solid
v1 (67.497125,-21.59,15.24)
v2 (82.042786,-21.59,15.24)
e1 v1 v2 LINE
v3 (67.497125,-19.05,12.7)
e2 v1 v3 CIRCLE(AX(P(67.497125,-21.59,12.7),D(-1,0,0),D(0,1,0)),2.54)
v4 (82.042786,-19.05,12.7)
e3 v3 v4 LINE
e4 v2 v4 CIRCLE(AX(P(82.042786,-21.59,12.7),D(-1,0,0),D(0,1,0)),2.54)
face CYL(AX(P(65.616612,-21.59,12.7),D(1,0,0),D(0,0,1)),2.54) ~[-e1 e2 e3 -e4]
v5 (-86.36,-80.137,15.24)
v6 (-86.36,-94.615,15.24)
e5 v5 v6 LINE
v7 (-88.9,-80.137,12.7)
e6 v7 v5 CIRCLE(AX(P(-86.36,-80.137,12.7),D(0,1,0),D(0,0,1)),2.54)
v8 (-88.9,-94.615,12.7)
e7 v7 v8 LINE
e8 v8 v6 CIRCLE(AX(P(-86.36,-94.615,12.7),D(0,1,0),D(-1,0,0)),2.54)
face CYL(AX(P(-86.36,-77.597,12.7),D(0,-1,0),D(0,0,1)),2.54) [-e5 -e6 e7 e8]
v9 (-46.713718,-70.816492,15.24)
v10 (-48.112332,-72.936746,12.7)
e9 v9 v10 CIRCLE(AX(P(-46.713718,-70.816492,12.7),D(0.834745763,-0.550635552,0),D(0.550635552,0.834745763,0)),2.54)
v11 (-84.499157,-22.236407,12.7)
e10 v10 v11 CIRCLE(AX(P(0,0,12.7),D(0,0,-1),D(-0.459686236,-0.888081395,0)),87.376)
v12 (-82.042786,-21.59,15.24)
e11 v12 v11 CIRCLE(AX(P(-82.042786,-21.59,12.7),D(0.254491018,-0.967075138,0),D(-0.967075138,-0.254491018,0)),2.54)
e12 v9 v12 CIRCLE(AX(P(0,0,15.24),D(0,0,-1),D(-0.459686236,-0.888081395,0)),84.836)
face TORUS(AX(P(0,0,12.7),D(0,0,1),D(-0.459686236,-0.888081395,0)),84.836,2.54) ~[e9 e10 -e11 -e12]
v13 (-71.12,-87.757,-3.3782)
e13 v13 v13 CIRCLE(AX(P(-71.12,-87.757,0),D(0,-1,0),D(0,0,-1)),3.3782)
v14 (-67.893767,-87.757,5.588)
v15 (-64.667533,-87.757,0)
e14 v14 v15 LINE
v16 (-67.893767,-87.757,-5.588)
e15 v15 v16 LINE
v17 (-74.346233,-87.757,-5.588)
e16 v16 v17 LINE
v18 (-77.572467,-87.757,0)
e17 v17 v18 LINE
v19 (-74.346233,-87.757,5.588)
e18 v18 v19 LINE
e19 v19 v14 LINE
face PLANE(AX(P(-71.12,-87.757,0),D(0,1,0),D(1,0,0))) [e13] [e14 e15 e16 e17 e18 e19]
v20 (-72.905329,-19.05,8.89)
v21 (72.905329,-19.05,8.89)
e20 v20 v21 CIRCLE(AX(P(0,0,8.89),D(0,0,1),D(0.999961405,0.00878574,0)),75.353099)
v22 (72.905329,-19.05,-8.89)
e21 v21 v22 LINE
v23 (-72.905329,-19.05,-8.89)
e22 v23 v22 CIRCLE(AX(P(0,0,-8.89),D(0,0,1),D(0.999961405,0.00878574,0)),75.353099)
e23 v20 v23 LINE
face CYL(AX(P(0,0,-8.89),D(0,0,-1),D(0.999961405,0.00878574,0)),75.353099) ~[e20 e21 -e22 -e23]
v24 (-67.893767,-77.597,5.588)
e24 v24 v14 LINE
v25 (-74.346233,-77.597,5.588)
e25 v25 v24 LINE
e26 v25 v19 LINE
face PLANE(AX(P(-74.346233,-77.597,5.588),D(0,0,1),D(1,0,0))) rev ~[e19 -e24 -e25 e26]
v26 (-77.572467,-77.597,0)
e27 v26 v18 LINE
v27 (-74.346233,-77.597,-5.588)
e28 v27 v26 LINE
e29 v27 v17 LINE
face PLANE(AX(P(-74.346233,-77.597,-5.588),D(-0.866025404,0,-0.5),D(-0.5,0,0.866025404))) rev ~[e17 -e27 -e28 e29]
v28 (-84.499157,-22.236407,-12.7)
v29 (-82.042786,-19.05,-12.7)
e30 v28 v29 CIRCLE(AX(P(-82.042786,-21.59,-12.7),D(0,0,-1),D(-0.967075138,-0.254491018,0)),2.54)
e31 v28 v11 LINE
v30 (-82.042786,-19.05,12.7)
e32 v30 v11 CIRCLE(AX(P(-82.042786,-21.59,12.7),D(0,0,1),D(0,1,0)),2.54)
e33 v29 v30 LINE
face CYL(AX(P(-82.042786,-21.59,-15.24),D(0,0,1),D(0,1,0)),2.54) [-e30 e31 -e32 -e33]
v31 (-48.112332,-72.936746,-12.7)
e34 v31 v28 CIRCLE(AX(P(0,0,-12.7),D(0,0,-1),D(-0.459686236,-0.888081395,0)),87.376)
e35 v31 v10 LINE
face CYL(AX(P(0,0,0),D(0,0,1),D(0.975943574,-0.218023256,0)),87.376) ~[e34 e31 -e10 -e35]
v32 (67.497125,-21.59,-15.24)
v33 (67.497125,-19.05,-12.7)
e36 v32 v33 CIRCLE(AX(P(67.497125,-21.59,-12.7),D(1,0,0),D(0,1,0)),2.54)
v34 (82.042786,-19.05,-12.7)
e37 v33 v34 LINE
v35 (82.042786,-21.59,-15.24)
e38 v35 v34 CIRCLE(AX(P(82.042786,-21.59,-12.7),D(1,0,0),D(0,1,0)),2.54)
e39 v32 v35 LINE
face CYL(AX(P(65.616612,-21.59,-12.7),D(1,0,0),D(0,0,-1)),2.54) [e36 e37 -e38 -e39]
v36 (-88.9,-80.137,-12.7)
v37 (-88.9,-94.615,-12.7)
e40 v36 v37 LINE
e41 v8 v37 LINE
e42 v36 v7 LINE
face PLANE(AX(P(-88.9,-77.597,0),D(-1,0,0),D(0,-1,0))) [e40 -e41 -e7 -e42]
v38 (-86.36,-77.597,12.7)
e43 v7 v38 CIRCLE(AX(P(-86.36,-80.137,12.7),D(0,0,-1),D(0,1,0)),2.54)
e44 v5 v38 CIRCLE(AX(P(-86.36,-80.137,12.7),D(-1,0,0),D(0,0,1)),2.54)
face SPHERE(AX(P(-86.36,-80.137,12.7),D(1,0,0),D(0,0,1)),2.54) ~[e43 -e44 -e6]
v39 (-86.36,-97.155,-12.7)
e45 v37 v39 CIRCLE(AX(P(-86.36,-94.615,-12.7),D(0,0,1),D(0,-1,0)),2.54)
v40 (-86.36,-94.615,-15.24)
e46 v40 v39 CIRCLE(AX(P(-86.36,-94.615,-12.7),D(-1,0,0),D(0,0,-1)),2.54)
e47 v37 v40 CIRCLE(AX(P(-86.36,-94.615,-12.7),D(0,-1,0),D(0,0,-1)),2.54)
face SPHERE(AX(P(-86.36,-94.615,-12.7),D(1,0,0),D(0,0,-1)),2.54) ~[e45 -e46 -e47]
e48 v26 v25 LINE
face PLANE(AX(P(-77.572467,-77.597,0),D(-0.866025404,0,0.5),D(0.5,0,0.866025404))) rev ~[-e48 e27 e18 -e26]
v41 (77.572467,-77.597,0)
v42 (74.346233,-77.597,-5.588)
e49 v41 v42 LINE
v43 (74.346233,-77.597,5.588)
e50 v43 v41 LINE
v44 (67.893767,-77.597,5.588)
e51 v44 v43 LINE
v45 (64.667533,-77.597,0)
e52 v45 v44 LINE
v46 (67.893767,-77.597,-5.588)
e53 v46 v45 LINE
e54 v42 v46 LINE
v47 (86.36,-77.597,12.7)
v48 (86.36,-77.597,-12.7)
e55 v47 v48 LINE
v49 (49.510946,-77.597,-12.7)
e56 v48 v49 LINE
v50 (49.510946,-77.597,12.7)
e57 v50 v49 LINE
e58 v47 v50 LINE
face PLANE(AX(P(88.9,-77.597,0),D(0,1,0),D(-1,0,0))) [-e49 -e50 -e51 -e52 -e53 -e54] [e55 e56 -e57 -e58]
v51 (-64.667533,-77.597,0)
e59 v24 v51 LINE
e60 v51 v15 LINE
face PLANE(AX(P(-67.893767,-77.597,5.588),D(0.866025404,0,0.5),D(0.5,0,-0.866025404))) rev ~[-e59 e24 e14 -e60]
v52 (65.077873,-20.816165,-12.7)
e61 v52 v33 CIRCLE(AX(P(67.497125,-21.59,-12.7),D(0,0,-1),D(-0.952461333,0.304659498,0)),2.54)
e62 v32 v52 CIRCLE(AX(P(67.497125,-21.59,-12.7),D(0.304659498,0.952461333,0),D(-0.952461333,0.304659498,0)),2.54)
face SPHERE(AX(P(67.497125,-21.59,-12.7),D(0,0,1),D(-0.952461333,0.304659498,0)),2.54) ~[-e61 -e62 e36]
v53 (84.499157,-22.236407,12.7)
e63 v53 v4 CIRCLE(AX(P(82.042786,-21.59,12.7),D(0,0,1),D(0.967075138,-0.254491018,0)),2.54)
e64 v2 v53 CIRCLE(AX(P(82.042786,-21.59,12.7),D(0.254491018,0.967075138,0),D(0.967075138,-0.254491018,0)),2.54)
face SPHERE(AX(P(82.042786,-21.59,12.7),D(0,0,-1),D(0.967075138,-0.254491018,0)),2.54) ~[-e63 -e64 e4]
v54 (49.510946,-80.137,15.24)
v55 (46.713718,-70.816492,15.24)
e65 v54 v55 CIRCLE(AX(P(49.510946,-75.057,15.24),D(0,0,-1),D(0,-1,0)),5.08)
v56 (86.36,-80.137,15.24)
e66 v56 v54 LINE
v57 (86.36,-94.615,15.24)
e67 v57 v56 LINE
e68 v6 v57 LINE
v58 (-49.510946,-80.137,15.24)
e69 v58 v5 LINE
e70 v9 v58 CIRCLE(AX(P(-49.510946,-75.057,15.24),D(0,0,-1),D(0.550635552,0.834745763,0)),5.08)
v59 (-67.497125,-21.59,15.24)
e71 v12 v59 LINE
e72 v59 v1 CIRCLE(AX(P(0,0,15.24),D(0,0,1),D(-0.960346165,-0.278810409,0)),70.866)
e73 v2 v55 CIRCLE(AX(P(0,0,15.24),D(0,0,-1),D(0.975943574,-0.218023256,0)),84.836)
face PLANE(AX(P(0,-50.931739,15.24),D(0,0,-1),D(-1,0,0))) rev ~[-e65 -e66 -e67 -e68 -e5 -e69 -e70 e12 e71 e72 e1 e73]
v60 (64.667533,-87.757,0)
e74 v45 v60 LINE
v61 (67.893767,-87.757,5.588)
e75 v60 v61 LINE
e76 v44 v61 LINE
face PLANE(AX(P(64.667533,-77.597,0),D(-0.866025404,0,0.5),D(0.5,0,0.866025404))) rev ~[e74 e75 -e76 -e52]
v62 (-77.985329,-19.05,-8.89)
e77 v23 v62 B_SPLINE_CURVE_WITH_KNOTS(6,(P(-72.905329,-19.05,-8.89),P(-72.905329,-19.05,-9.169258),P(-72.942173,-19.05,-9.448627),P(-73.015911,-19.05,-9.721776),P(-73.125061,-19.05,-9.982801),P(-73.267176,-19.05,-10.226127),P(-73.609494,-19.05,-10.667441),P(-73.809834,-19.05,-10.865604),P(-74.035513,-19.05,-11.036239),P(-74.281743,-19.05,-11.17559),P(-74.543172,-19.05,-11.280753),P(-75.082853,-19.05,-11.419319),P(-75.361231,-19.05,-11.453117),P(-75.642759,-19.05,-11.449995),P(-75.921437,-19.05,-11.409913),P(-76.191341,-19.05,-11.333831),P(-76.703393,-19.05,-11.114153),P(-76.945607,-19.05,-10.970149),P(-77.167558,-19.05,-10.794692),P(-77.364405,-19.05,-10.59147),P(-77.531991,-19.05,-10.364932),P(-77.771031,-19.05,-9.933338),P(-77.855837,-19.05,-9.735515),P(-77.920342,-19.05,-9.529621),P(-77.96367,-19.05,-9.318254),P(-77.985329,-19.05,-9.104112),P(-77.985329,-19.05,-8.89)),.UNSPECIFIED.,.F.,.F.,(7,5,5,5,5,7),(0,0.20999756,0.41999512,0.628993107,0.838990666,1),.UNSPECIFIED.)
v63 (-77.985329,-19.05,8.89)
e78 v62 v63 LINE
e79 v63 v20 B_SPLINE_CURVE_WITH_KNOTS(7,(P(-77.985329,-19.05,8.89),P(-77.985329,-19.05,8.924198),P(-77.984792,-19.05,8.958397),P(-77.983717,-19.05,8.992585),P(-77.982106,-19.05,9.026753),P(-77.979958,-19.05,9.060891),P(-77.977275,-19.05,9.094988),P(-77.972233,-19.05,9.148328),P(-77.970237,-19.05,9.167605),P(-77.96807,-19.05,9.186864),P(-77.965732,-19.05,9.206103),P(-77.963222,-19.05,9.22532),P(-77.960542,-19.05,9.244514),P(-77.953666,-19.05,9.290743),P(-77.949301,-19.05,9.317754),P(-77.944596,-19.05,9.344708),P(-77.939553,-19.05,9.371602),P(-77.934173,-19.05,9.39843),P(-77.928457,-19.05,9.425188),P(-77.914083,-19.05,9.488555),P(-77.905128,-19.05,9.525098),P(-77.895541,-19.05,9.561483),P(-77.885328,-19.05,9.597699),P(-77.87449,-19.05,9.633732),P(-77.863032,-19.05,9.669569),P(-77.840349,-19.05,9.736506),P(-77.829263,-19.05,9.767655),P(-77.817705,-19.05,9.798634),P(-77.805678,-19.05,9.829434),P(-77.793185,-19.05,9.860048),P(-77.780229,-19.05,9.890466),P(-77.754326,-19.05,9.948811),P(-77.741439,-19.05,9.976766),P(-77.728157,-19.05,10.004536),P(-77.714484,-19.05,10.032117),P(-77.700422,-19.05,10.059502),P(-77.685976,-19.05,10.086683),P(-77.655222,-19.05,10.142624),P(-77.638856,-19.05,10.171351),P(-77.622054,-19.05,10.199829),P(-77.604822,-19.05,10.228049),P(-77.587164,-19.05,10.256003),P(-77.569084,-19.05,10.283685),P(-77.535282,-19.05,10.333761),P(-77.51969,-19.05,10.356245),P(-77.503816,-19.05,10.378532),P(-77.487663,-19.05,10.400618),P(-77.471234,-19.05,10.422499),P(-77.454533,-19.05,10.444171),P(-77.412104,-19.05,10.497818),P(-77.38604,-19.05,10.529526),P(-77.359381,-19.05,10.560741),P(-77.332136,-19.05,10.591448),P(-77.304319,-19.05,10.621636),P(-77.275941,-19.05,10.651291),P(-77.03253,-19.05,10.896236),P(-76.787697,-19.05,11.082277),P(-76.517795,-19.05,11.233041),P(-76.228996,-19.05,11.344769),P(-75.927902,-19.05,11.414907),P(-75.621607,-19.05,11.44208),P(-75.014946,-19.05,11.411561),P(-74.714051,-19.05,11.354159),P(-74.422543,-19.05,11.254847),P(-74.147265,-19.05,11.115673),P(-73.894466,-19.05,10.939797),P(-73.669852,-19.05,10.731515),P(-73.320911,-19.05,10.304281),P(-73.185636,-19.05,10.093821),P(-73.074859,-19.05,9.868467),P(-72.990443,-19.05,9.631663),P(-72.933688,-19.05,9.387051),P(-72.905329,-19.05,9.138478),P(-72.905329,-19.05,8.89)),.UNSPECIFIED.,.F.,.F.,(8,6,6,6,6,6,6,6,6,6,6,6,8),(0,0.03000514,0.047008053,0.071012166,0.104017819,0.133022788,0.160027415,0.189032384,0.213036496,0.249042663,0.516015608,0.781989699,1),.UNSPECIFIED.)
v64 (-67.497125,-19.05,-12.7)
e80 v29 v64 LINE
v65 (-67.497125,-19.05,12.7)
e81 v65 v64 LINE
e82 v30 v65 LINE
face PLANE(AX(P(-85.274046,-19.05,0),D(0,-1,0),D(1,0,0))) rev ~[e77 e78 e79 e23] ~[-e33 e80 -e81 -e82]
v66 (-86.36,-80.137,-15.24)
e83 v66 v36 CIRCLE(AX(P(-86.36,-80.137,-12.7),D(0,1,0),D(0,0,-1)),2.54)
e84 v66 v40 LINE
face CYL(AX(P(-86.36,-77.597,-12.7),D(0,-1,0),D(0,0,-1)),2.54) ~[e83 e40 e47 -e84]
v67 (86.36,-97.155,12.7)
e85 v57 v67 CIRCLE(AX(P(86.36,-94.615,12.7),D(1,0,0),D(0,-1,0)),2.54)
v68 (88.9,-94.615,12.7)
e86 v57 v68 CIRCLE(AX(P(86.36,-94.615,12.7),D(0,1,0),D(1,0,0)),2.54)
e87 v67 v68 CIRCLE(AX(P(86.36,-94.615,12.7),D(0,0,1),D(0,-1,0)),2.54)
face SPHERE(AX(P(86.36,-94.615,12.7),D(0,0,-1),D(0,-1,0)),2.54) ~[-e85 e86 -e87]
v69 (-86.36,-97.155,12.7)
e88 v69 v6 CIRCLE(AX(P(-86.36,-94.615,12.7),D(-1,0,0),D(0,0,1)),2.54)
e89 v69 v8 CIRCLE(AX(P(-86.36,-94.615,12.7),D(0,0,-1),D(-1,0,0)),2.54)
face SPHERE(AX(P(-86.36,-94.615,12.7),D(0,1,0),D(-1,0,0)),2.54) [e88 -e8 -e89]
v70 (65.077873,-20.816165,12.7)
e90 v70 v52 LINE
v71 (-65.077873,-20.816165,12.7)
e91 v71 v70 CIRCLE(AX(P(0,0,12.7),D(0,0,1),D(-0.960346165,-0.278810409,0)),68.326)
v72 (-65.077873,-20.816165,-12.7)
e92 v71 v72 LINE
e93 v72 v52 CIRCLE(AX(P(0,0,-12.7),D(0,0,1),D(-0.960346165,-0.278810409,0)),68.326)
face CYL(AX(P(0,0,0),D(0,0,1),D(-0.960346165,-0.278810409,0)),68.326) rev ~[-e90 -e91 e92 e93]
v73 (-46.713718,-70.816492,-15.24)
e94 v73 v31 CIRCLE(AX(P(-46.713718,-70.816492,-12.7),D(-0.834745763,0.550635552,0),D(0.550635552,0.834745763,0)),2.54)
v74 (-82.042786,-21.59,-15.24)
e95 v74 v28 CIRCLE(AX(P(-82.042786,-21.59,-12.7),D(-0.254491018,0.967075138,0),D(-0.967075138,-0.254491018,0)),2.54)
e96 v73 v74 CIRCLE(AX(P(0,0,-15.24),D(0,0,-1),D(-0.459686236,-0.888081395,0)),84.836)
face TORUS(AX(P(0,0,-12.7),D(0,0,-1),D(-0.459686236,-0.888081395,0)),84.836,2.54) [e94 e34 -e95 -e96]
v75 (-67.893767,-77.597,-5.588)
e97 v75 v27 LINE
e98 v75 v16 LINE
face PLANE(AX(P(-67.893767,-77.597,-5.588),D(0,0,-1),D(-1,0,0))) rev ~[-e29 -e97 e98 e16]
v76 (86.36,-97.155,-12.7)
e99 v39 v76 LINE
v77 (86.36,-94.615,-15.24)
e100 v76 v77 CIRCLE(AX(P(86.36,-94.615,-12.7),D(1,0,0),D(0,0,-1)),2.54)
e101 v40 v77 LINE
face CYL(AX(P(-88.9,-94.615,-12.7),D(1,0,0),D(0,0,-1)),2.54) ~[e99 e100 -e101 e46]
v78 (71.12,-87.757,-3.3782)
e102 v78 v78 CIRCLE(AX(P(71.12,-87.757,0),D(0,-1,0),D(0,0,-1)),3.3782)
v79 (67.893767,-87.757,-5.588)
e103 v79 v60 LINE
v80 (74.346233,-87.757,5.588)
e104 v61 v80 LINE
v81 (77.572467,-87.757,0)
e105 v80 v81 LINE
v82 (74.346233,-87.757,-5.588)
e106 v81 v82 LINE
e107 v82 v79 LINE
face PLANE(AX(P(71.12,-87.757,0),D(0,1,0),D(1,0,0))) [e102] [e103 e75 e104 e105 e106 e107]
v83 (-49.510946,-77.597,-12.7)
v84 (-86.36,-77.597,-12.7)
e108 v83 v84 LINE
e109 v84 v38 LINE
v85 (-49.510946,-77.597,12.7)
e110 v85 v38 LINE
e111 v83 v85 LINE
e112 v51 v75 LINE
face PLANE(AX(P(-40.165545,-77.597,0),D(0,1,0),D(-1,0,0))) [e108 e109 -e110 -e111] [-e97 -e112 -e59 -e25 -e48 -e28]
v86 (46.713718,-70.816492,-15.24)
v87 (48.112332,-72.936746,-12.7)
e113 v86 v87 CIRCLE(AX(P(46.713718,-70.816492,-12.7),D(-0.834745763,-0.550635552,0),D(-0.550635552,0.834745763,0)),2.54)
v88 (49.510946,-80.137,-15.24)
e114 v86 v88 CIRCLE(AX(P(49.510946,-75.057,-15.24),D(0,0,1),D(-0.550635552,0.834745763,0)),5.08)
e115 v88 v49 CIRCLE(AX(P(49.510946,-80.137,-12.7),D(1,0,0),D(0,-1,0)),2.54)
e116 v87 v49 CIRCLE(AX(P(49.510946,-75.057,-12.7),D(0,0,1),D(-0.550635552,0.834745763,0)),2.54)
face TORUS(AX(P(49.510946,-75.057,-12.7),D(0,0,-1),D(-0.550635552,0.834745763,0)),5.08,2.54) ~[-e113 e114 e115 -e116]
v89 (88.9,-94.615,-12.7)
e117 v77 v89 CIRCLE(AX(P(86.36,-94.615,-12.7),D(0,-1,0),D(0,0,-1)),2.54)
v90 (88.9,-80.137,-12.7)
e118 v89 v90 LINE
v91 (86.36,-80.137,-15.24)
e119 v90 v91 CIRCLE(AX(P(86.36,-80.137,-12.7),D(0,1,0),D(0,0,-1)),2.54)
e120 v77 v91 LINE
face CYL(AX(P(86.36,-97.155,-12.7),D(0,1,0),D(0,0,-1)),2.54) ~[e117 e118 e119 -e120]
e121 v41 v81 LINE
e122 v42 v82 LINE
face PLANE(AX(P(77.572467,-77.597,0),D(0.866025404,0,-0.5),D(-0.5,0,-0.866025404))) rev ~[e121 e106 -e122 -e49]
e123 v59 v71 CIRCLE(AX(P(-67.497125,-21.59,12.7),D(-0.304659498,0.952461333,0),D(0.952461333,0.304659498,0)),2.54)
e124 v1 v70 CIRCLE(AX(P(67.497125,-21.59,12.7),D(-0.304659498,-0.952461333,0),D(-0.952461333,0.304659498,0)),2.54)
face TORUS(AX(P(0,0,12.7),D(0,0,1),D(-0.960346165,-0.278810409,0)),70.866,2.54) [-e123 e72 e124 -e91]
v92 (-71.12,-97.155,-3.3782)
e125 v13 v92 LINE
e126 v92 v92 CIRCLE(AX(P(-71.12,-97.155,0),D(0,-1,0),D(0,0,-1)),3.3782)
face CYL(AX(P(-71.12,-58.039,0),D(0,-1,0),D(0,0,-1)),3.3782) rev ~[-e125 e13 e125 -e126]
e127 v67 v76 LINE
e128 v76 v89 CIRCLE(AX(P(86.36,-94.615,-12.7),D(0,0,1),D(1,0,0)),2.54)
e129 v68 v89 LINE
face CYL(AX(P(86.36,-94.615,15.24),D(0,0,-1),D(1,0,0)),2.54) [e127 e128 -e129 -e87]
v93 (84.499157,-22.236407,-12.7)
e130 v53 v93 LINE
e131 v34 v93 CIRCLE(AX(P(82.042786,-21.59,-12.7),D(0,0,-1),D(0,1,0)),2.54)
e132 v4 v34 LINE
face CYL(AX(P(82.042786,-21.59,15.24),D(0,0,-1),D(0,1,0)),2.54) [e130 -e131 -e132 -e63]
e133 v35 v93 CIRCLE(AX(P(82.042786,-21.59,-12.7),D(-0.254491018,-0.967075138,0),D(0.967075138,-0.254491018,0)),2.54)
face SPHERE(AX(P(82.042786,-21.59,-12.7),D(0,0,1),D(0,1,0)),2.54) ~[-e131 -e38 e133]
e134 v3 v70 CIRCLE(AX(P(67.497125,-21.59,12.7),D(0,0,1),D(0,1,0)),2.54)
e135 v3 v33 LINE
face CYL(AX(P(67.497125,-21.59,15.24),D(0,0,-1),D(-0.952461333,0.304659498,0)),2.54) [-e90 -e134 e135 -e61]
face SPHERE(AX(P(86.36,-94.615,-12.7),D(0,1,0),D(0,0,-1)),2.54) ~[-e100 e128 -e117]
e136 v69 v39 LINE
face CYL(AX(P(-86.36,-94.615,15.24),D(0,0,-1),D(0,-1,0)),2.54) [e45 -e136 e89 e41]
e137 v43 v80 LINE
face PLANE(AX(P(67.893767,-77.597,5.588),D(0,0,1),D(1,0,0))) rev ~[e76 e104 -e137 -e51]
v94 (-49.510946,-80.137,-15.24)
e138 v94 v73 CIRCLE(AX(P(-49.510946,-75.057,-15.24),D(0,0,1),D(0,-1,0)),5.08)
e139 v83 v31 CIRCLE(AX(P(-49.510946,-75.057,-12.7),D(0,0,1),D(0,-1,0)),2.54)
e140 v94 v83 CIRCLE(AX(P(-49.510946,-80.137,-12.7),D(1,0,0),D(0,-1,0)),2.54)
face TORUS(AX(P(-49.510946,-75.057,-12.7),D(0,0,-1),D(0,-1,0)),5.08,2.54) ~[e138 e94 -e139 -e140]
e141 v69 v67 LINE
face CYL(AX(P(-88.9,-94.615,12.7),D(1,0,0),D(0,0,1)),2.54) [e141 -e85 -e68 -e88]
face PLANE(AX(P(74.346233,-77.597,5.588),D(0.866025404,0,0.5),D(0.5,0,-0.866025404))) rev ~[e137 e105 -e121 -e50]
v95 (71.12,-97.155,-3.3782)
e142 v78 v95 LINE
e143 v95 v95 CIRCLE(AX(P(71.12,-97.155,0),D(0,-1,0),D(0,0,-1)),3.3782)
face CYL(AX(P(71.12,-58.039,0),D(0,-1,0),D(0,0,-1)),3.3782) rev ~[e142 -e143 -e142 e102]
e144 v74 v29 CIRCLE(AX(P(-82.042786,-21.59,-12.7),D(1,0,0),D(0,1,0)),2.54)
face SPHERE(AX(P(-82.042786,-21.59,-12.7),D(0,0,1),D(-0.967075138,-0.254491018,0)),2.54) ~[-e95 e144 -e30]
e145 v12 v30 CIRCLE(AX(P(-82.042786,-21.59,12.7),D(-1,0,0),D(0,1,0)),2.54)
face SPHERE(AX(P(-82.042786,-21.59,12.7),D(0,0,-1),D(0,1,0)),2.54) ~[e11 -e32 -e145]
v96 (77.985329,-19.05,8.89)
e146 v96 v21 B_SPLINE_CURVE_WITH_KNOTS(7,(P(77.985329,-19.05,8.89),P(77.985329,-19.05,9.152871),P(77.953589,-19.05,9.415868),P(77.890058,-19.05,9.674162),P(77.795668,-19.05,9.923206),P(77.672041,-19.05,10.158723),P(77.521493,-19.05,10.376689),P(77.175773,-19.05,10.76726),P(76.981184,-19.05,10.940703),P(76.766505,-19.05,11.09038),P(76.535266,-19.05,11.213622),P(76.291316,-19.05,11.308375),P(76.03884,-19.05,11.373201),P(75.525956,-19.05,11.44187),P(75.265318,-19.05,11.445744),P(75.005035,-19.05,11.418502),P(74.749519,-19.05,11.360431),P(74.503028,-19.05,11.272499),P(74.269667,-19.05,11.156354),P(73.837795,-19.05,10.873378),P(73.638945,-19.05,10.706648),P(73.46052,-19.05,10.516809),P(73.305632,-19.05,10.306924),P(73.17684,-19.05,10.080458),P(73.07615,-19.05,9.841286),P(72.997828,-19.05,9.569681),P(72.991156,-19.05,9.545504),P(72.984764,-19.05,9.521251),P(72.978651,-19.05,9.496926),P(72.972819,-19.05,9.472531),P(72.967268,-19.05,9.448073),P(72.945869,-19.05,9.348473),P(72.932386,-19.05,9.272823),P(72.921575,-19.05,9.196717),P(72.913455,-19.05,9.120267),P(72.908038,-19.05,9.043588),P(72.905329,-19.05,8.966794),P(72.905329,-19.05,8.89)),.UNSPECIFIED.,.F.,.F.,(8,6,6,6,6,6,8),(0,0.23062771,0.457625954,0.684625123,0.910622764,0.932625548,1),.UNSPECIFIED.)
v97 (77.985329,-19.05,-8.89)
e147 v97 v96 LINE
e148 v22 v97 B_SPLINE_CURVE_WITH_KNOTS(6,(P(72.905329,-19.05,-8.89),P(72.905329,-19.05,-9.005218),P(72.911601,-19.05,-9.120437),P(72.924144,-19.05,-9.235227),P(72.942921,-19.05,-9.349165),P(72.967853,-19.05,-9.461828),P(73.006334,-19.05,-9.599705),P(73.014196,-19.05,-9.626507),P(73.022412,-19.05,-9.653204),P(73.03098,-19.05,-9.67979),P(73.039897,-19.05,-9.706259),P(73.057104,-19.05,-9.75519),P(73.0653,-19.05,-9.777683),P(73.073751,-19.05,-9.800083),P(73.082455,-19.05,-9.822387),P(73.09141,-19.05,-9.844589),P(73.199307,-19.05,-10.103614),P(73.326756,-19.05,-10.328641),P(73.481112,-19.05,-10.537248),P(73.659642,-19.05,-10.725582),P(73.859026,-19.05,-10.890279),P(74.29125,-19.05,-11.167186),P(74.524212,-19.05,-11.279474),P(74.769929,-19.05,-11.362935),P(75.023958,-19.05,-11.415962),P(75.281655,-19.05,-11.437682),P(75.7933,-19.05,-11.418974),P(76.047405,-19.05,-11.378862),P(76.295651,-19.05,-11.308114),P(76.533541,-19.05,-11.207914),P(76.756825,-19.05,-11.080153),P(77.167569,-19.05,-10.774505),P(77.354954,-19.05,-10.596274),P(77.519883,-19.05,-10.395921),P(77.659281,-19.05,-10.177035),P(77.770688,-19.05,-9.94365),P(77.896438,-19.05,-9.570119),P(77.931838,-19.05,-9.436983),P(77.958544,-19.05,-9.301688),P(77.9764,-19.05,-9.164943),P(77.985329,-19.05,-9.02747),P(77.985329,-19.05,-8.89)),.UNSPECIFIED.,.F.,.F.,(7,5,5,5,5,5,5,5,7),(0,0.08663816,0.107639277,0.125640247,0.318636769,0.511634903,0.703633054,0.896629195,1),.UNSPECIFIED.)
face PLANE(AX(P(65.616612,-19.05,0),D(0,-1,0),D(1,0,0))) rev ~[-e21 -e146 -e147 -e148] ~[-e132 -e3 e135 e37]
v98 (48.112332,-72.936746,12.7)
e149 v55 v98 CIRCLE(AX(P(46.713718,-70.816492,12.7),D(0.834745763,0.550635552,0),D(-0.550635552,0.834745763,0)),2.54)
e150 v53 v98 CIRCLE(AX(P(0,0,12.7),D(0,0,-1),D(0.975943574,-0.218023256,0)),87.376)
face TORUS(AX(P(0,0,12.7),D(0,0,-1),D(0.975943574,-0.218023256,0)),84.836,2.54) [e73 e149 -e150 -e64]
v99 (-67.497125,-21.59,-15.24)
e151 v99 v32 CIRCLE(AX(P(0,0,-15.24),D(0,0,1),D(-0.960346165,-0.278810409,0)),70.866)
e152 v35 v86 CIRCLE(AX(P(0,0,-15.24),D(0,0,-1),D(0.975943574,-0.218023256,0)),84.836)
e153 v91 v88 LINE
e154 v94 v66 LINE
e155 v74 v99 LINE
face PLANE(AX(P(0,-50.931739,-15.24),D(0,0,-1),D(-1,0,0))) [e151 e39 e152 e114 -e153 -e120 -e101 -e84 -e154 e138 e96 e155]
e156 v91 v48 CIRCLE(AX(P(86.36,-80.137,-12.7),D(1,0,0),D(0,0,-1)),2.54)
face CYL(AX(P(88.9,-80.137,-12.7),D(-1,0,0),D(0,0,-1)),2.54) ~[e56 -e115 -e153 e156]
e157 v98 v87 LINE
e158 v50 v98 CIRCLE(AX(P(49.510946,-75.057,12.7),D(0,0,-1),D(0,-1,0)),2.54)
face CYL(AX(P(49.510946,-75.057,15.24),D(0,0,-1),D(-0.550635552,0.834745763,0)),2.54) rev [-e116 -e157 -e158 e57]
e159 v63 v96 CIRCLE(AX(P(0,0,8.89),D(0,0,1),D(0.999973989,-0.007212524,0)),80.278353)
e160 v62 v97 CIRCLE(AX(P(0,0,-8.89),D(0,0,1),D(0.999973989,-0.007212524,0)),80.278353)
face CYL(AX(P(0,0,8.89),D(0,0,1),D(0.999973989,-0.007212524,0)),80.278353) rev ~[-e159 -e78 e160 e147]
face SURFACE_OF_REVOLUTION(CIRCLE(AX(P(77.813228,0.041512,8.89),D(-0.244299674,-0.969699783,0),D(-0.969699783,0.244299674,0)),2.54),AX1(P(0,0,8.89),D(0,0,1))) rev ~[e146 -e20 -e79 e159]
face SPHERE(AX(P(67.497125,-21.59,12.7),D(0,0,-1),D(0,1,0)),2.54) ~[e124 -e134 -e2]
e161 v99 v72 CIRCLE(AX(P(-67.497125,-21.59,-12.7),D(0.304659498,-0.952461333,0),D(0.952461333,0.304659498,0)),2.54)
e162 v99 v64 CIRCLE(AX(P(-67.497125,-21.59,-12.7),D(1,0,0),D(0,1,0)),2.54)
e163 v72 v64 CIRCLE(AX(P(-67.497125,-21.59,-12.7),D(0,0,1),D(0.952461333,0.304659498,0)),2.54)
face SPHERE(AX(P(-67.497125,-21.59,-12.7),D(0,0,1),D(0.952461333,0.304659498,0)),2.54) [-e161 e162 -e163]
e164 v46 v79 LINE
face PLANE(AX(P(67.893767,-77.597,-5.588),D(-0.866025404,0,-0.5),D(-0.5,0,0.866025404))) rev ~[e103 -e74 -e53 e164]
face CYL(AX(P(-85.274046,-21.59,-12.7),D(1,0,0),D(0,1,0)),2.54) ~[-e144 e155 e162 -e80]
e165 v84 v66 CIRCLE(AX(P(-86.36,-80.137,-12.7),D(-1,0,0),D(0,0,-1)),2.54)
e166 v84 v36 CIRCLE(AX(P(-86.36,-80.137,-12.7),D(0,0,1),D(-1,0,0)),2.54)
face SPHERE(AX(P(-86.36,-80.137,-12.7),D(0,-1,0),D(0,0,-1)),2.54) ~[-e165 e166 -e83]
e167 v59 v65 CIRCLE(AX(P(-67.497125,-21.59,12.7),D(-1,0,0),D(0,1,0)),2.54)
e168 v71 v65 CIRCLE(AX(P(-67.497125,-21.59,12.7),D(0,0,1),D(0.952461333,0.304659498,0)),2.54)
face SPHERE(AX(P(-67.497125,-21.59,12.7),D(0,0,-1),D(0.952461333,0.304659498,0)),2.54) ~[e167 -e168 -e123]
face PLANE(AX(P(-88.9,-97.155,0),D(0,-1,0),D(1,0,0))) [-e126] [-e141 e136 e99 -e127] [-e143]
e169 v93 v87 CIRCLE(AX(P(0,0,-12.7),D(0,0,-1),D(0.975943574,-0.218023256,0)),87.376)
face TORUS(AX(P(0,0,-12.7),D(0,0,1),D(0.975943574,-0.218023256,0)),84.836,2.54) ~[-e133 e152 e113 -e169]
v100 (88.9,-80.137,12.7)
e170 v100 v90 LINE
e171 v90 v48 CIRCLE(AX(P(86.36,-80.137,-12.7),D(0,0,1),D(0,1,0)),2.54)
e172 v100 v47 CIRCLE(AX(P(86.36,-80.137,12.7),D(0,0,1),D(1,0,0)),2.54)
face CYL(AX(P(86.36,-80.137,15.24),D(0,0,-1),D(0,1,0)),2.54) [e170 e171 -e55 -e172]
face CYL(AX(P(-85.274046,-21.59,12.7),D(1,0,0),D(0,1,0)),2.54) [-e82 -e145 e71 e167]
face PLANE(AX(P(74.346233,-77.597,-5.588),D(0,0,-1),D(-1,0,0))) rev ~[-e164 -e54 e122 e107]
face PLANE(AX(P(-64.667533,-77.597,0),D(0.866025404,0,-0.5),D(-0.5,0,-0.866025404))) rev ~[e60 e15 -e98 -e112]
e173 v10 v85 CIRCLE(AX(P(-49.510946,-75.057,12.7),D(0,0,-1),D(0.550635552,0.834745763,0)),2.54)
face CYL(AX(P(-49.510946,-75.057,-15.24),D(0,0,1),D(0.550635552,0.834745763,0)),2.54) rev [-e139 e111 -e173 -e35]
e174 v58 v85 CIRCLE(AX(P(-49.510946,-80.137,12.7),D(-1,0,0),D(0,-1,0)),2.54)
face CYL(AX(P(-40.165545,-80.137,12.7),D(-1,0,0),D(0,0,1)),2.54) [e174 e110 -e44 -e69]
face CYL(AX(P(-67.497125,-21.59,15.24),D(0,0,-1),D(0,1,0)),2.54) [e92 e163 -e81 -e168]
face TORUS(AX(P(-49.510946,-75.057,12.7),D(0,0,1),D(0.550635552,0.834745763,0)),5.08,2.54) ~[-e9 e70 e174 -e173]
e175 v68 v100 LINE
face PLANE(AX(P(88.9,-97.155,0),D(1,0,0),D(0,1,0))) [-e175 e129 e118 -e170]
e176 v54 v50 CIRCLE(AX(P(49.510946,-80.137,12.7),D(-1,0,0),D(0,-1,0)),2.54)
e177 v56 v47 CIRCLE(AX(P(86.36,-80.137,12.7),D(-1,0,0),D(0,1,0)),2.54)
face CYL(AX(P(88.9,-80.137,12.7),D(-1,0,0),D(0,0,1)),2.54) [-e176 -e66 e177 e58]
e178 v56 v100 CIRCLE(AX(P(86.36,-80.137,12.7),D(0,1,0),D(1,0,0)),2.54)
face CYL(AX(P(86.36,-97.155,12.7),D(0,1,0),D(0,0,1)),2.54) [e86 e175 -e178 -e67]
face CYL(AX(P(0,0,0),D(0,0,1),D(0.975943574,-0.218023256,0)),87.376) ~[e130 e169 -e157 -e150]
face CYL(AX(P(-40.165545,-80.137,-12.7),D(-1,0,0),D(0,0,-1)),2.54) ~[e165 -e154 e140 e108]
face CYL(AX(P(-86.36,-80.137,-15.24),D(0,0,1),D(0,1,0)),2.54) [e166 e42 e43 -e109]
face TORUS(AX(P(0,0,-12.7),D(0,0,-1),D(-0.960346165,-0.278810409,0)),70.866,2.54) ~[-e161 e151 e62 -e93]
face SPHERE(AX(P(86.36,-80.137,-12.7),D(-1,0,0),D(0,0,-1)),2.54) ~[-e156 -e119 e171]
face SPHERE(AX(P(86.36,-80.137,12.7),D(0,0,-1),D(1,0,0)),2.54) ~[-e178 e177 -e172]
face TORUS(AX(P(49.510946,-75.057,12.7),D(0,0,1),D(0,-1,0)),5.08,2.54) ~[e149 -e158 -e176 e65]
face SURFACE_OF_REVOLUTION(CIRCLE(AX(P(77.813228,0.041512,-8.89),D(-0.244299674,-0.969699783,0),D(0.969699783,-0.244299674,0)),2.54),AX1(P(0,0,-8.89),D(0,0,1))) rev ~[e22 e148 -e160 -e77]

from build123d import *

# Parameters (mm, degrees)
BOSS_EXTRUDE1_DEPTH          = 15.24
FILLET1_R                    = 2.54
CUT_EXTRUDE1_DEPTH           = 10.16
H_0_266_DIAMETER_HOLE1_D     = 6.7564
H_0_266_DIAMETER_HOLE1_DEPTH = 19.558


with BuildPart() as part:
    # Sketch1 → Boss-Extrude1 (new body, symmetric)
    with BuildSketch(Plane.XY):
        with BuildLine():
            Line((-85.274045735, -19.05), (-65.616612043, -19.05))
            ThreePointArc((-65.616612043, -19.05), (0, -68.326), (65.616612043, -19.05))
            Line((65.616612043, -19.05), (85.274045735, -19.05))
            ThreePointArc((85.274045735, -19.05), (0, -87.376), (-85.274045735, -19.05))
        make_face()
        with BuildLine():
            ThreePointArc((40.165544525, -77.597), (0, -87.376), (-40.165544525, -77.597))
            Line((-40.165544525, -77.597), (-88.9, -77.597))
            Line((-88.9, -77.597), (-88.9, -97.155))
            Line((-88.9, -97.155), (88.9, -97.155))
            Line((88.9, -97.155), (88.9, -77.597))
            Line((88.9, -77.597), (40.165544525, -77.597))
        make_face()
    extrude(amount=BOSS_EXTRUDE1_DEPTH, both=True)

    # Cut-Sweep1: sweep along a path in Sketch4
    with BuildLine(Plane.XY) as cut_sweep1_path:
        CenterArc((0, 0), 77.978, 0, 360)
    # Sketch3 → Cut-Sweep1 (sweep, cut)
    with BuildSketch(Plane(origin=(0, -19.05, 0), x_dir=(1, 0, 0), z_dir=(0, 1, 0))):
        with BuildLine():
            Line((-77.985328889, -8.89), (-77.985328889, 8.89))
            ThreePointArc((-77.985328889, 8.89), (-75.445328889, 11.43), (-72.905328889, 8.89))
            Line((-72.905328889, 8.89), (-72.905328889, -8.89))
            ThreePointArc((-72.905328889, -8.89), (-75.445328889, -11.43), (-77.985328889, -8.89))
        make_face()
    sweep(path=cut_sweep1_path.line, mode=Mode.SUBTRACT)

    # Fillet1
    fillet1_edges = [part.edges().sort_by_distance(p)[0] for p in [
        (0, -68.326, -15.24),
        (75.445328889, -19.05, -15.24),
        (69.214958668, -53.327805811, -15.24),
        (64.532772263, -77.597, -15.24),
        (-64.532772263, -77.597, 15.24),
        (88.9, -87.376, -15.24),
        (0, -97.155, -15.24),
        (-88.9, -87.376, -15.24),
        (-64.532772263, -77.597, -15.24),
        (-69.214958668, -53.327805811, -15.24),
        (-75.445328889, -19.05, -15.24),
        (-88.9, -87.376, 15.24),
        (-65.616612043, -19.05, 0),
        (65.616612043, -19.05, 0),
        (85.274045735, -19.05, 0),
        (40.165544525, -77.597, 0),
        (88.9, -77.597, 0),
        (88.9, -97.155, 0),
        (-88.9, -97.155, 0),
        (-88.9, -77.597, 0),
        (-40.165544525, -77.597, 0),
        (-85.274045735, -19.05, 0),
        (0, -97.155, 15.24),
        (88.9, -87.376, 15.24),
        (64.532772263, -77.597, 15.24),
        (69.214958668, -53.327805811, 15.24),
        (75.445328889, -19.05, 15.24),
        (0, -68.326, 15.24),
        (-75.445328889, -19.05, 15.24),
        (-69.214958668, -53.327805811, 15.24),
    ]]
    fillet(fillet1_edges, radius=FILLET1_R)

    # Sketch5 → Cut-Extrude1 (cut)
    with BuildSketch(Plane(origin=(0, -77.597, 0), x_dir=(1, 0, 0), z_dir=(0, 1, 0))):
        Polygon((-67.893766696, 5.588), (-74.346233304, 5.588), (-77.572466608, 0), (-74.346233304, -5.588), (-67.893766696, -5.588), (-64.667533392, 0), align=None)
        Polygon((74.346233304, 5.588), (67.893766696, 5.588), (64.667533392, 0), (67.893766696, -5.588), (74.346233304, -5.588), (77.572466608, 0), align=None)
    extrude(amount=-CUT_EXTRUDE1_DEPTH, mode=Mode.SUBTRACT)

    # H (0.266) Diameter Hole1
    with Locations(Plane(origin=(-71.12, -77.597, 0), x_dir=(0, 0, 1), z_dir=(0, 1, 0))):
        with Locations((0, 0), (0, 142.24)):
            Hole(H_0_266_DIAMETER_HOLE1_D / 2, depth=H_0_266_DIAMETER_HOLE1_DEPTH)


solid = part.part
